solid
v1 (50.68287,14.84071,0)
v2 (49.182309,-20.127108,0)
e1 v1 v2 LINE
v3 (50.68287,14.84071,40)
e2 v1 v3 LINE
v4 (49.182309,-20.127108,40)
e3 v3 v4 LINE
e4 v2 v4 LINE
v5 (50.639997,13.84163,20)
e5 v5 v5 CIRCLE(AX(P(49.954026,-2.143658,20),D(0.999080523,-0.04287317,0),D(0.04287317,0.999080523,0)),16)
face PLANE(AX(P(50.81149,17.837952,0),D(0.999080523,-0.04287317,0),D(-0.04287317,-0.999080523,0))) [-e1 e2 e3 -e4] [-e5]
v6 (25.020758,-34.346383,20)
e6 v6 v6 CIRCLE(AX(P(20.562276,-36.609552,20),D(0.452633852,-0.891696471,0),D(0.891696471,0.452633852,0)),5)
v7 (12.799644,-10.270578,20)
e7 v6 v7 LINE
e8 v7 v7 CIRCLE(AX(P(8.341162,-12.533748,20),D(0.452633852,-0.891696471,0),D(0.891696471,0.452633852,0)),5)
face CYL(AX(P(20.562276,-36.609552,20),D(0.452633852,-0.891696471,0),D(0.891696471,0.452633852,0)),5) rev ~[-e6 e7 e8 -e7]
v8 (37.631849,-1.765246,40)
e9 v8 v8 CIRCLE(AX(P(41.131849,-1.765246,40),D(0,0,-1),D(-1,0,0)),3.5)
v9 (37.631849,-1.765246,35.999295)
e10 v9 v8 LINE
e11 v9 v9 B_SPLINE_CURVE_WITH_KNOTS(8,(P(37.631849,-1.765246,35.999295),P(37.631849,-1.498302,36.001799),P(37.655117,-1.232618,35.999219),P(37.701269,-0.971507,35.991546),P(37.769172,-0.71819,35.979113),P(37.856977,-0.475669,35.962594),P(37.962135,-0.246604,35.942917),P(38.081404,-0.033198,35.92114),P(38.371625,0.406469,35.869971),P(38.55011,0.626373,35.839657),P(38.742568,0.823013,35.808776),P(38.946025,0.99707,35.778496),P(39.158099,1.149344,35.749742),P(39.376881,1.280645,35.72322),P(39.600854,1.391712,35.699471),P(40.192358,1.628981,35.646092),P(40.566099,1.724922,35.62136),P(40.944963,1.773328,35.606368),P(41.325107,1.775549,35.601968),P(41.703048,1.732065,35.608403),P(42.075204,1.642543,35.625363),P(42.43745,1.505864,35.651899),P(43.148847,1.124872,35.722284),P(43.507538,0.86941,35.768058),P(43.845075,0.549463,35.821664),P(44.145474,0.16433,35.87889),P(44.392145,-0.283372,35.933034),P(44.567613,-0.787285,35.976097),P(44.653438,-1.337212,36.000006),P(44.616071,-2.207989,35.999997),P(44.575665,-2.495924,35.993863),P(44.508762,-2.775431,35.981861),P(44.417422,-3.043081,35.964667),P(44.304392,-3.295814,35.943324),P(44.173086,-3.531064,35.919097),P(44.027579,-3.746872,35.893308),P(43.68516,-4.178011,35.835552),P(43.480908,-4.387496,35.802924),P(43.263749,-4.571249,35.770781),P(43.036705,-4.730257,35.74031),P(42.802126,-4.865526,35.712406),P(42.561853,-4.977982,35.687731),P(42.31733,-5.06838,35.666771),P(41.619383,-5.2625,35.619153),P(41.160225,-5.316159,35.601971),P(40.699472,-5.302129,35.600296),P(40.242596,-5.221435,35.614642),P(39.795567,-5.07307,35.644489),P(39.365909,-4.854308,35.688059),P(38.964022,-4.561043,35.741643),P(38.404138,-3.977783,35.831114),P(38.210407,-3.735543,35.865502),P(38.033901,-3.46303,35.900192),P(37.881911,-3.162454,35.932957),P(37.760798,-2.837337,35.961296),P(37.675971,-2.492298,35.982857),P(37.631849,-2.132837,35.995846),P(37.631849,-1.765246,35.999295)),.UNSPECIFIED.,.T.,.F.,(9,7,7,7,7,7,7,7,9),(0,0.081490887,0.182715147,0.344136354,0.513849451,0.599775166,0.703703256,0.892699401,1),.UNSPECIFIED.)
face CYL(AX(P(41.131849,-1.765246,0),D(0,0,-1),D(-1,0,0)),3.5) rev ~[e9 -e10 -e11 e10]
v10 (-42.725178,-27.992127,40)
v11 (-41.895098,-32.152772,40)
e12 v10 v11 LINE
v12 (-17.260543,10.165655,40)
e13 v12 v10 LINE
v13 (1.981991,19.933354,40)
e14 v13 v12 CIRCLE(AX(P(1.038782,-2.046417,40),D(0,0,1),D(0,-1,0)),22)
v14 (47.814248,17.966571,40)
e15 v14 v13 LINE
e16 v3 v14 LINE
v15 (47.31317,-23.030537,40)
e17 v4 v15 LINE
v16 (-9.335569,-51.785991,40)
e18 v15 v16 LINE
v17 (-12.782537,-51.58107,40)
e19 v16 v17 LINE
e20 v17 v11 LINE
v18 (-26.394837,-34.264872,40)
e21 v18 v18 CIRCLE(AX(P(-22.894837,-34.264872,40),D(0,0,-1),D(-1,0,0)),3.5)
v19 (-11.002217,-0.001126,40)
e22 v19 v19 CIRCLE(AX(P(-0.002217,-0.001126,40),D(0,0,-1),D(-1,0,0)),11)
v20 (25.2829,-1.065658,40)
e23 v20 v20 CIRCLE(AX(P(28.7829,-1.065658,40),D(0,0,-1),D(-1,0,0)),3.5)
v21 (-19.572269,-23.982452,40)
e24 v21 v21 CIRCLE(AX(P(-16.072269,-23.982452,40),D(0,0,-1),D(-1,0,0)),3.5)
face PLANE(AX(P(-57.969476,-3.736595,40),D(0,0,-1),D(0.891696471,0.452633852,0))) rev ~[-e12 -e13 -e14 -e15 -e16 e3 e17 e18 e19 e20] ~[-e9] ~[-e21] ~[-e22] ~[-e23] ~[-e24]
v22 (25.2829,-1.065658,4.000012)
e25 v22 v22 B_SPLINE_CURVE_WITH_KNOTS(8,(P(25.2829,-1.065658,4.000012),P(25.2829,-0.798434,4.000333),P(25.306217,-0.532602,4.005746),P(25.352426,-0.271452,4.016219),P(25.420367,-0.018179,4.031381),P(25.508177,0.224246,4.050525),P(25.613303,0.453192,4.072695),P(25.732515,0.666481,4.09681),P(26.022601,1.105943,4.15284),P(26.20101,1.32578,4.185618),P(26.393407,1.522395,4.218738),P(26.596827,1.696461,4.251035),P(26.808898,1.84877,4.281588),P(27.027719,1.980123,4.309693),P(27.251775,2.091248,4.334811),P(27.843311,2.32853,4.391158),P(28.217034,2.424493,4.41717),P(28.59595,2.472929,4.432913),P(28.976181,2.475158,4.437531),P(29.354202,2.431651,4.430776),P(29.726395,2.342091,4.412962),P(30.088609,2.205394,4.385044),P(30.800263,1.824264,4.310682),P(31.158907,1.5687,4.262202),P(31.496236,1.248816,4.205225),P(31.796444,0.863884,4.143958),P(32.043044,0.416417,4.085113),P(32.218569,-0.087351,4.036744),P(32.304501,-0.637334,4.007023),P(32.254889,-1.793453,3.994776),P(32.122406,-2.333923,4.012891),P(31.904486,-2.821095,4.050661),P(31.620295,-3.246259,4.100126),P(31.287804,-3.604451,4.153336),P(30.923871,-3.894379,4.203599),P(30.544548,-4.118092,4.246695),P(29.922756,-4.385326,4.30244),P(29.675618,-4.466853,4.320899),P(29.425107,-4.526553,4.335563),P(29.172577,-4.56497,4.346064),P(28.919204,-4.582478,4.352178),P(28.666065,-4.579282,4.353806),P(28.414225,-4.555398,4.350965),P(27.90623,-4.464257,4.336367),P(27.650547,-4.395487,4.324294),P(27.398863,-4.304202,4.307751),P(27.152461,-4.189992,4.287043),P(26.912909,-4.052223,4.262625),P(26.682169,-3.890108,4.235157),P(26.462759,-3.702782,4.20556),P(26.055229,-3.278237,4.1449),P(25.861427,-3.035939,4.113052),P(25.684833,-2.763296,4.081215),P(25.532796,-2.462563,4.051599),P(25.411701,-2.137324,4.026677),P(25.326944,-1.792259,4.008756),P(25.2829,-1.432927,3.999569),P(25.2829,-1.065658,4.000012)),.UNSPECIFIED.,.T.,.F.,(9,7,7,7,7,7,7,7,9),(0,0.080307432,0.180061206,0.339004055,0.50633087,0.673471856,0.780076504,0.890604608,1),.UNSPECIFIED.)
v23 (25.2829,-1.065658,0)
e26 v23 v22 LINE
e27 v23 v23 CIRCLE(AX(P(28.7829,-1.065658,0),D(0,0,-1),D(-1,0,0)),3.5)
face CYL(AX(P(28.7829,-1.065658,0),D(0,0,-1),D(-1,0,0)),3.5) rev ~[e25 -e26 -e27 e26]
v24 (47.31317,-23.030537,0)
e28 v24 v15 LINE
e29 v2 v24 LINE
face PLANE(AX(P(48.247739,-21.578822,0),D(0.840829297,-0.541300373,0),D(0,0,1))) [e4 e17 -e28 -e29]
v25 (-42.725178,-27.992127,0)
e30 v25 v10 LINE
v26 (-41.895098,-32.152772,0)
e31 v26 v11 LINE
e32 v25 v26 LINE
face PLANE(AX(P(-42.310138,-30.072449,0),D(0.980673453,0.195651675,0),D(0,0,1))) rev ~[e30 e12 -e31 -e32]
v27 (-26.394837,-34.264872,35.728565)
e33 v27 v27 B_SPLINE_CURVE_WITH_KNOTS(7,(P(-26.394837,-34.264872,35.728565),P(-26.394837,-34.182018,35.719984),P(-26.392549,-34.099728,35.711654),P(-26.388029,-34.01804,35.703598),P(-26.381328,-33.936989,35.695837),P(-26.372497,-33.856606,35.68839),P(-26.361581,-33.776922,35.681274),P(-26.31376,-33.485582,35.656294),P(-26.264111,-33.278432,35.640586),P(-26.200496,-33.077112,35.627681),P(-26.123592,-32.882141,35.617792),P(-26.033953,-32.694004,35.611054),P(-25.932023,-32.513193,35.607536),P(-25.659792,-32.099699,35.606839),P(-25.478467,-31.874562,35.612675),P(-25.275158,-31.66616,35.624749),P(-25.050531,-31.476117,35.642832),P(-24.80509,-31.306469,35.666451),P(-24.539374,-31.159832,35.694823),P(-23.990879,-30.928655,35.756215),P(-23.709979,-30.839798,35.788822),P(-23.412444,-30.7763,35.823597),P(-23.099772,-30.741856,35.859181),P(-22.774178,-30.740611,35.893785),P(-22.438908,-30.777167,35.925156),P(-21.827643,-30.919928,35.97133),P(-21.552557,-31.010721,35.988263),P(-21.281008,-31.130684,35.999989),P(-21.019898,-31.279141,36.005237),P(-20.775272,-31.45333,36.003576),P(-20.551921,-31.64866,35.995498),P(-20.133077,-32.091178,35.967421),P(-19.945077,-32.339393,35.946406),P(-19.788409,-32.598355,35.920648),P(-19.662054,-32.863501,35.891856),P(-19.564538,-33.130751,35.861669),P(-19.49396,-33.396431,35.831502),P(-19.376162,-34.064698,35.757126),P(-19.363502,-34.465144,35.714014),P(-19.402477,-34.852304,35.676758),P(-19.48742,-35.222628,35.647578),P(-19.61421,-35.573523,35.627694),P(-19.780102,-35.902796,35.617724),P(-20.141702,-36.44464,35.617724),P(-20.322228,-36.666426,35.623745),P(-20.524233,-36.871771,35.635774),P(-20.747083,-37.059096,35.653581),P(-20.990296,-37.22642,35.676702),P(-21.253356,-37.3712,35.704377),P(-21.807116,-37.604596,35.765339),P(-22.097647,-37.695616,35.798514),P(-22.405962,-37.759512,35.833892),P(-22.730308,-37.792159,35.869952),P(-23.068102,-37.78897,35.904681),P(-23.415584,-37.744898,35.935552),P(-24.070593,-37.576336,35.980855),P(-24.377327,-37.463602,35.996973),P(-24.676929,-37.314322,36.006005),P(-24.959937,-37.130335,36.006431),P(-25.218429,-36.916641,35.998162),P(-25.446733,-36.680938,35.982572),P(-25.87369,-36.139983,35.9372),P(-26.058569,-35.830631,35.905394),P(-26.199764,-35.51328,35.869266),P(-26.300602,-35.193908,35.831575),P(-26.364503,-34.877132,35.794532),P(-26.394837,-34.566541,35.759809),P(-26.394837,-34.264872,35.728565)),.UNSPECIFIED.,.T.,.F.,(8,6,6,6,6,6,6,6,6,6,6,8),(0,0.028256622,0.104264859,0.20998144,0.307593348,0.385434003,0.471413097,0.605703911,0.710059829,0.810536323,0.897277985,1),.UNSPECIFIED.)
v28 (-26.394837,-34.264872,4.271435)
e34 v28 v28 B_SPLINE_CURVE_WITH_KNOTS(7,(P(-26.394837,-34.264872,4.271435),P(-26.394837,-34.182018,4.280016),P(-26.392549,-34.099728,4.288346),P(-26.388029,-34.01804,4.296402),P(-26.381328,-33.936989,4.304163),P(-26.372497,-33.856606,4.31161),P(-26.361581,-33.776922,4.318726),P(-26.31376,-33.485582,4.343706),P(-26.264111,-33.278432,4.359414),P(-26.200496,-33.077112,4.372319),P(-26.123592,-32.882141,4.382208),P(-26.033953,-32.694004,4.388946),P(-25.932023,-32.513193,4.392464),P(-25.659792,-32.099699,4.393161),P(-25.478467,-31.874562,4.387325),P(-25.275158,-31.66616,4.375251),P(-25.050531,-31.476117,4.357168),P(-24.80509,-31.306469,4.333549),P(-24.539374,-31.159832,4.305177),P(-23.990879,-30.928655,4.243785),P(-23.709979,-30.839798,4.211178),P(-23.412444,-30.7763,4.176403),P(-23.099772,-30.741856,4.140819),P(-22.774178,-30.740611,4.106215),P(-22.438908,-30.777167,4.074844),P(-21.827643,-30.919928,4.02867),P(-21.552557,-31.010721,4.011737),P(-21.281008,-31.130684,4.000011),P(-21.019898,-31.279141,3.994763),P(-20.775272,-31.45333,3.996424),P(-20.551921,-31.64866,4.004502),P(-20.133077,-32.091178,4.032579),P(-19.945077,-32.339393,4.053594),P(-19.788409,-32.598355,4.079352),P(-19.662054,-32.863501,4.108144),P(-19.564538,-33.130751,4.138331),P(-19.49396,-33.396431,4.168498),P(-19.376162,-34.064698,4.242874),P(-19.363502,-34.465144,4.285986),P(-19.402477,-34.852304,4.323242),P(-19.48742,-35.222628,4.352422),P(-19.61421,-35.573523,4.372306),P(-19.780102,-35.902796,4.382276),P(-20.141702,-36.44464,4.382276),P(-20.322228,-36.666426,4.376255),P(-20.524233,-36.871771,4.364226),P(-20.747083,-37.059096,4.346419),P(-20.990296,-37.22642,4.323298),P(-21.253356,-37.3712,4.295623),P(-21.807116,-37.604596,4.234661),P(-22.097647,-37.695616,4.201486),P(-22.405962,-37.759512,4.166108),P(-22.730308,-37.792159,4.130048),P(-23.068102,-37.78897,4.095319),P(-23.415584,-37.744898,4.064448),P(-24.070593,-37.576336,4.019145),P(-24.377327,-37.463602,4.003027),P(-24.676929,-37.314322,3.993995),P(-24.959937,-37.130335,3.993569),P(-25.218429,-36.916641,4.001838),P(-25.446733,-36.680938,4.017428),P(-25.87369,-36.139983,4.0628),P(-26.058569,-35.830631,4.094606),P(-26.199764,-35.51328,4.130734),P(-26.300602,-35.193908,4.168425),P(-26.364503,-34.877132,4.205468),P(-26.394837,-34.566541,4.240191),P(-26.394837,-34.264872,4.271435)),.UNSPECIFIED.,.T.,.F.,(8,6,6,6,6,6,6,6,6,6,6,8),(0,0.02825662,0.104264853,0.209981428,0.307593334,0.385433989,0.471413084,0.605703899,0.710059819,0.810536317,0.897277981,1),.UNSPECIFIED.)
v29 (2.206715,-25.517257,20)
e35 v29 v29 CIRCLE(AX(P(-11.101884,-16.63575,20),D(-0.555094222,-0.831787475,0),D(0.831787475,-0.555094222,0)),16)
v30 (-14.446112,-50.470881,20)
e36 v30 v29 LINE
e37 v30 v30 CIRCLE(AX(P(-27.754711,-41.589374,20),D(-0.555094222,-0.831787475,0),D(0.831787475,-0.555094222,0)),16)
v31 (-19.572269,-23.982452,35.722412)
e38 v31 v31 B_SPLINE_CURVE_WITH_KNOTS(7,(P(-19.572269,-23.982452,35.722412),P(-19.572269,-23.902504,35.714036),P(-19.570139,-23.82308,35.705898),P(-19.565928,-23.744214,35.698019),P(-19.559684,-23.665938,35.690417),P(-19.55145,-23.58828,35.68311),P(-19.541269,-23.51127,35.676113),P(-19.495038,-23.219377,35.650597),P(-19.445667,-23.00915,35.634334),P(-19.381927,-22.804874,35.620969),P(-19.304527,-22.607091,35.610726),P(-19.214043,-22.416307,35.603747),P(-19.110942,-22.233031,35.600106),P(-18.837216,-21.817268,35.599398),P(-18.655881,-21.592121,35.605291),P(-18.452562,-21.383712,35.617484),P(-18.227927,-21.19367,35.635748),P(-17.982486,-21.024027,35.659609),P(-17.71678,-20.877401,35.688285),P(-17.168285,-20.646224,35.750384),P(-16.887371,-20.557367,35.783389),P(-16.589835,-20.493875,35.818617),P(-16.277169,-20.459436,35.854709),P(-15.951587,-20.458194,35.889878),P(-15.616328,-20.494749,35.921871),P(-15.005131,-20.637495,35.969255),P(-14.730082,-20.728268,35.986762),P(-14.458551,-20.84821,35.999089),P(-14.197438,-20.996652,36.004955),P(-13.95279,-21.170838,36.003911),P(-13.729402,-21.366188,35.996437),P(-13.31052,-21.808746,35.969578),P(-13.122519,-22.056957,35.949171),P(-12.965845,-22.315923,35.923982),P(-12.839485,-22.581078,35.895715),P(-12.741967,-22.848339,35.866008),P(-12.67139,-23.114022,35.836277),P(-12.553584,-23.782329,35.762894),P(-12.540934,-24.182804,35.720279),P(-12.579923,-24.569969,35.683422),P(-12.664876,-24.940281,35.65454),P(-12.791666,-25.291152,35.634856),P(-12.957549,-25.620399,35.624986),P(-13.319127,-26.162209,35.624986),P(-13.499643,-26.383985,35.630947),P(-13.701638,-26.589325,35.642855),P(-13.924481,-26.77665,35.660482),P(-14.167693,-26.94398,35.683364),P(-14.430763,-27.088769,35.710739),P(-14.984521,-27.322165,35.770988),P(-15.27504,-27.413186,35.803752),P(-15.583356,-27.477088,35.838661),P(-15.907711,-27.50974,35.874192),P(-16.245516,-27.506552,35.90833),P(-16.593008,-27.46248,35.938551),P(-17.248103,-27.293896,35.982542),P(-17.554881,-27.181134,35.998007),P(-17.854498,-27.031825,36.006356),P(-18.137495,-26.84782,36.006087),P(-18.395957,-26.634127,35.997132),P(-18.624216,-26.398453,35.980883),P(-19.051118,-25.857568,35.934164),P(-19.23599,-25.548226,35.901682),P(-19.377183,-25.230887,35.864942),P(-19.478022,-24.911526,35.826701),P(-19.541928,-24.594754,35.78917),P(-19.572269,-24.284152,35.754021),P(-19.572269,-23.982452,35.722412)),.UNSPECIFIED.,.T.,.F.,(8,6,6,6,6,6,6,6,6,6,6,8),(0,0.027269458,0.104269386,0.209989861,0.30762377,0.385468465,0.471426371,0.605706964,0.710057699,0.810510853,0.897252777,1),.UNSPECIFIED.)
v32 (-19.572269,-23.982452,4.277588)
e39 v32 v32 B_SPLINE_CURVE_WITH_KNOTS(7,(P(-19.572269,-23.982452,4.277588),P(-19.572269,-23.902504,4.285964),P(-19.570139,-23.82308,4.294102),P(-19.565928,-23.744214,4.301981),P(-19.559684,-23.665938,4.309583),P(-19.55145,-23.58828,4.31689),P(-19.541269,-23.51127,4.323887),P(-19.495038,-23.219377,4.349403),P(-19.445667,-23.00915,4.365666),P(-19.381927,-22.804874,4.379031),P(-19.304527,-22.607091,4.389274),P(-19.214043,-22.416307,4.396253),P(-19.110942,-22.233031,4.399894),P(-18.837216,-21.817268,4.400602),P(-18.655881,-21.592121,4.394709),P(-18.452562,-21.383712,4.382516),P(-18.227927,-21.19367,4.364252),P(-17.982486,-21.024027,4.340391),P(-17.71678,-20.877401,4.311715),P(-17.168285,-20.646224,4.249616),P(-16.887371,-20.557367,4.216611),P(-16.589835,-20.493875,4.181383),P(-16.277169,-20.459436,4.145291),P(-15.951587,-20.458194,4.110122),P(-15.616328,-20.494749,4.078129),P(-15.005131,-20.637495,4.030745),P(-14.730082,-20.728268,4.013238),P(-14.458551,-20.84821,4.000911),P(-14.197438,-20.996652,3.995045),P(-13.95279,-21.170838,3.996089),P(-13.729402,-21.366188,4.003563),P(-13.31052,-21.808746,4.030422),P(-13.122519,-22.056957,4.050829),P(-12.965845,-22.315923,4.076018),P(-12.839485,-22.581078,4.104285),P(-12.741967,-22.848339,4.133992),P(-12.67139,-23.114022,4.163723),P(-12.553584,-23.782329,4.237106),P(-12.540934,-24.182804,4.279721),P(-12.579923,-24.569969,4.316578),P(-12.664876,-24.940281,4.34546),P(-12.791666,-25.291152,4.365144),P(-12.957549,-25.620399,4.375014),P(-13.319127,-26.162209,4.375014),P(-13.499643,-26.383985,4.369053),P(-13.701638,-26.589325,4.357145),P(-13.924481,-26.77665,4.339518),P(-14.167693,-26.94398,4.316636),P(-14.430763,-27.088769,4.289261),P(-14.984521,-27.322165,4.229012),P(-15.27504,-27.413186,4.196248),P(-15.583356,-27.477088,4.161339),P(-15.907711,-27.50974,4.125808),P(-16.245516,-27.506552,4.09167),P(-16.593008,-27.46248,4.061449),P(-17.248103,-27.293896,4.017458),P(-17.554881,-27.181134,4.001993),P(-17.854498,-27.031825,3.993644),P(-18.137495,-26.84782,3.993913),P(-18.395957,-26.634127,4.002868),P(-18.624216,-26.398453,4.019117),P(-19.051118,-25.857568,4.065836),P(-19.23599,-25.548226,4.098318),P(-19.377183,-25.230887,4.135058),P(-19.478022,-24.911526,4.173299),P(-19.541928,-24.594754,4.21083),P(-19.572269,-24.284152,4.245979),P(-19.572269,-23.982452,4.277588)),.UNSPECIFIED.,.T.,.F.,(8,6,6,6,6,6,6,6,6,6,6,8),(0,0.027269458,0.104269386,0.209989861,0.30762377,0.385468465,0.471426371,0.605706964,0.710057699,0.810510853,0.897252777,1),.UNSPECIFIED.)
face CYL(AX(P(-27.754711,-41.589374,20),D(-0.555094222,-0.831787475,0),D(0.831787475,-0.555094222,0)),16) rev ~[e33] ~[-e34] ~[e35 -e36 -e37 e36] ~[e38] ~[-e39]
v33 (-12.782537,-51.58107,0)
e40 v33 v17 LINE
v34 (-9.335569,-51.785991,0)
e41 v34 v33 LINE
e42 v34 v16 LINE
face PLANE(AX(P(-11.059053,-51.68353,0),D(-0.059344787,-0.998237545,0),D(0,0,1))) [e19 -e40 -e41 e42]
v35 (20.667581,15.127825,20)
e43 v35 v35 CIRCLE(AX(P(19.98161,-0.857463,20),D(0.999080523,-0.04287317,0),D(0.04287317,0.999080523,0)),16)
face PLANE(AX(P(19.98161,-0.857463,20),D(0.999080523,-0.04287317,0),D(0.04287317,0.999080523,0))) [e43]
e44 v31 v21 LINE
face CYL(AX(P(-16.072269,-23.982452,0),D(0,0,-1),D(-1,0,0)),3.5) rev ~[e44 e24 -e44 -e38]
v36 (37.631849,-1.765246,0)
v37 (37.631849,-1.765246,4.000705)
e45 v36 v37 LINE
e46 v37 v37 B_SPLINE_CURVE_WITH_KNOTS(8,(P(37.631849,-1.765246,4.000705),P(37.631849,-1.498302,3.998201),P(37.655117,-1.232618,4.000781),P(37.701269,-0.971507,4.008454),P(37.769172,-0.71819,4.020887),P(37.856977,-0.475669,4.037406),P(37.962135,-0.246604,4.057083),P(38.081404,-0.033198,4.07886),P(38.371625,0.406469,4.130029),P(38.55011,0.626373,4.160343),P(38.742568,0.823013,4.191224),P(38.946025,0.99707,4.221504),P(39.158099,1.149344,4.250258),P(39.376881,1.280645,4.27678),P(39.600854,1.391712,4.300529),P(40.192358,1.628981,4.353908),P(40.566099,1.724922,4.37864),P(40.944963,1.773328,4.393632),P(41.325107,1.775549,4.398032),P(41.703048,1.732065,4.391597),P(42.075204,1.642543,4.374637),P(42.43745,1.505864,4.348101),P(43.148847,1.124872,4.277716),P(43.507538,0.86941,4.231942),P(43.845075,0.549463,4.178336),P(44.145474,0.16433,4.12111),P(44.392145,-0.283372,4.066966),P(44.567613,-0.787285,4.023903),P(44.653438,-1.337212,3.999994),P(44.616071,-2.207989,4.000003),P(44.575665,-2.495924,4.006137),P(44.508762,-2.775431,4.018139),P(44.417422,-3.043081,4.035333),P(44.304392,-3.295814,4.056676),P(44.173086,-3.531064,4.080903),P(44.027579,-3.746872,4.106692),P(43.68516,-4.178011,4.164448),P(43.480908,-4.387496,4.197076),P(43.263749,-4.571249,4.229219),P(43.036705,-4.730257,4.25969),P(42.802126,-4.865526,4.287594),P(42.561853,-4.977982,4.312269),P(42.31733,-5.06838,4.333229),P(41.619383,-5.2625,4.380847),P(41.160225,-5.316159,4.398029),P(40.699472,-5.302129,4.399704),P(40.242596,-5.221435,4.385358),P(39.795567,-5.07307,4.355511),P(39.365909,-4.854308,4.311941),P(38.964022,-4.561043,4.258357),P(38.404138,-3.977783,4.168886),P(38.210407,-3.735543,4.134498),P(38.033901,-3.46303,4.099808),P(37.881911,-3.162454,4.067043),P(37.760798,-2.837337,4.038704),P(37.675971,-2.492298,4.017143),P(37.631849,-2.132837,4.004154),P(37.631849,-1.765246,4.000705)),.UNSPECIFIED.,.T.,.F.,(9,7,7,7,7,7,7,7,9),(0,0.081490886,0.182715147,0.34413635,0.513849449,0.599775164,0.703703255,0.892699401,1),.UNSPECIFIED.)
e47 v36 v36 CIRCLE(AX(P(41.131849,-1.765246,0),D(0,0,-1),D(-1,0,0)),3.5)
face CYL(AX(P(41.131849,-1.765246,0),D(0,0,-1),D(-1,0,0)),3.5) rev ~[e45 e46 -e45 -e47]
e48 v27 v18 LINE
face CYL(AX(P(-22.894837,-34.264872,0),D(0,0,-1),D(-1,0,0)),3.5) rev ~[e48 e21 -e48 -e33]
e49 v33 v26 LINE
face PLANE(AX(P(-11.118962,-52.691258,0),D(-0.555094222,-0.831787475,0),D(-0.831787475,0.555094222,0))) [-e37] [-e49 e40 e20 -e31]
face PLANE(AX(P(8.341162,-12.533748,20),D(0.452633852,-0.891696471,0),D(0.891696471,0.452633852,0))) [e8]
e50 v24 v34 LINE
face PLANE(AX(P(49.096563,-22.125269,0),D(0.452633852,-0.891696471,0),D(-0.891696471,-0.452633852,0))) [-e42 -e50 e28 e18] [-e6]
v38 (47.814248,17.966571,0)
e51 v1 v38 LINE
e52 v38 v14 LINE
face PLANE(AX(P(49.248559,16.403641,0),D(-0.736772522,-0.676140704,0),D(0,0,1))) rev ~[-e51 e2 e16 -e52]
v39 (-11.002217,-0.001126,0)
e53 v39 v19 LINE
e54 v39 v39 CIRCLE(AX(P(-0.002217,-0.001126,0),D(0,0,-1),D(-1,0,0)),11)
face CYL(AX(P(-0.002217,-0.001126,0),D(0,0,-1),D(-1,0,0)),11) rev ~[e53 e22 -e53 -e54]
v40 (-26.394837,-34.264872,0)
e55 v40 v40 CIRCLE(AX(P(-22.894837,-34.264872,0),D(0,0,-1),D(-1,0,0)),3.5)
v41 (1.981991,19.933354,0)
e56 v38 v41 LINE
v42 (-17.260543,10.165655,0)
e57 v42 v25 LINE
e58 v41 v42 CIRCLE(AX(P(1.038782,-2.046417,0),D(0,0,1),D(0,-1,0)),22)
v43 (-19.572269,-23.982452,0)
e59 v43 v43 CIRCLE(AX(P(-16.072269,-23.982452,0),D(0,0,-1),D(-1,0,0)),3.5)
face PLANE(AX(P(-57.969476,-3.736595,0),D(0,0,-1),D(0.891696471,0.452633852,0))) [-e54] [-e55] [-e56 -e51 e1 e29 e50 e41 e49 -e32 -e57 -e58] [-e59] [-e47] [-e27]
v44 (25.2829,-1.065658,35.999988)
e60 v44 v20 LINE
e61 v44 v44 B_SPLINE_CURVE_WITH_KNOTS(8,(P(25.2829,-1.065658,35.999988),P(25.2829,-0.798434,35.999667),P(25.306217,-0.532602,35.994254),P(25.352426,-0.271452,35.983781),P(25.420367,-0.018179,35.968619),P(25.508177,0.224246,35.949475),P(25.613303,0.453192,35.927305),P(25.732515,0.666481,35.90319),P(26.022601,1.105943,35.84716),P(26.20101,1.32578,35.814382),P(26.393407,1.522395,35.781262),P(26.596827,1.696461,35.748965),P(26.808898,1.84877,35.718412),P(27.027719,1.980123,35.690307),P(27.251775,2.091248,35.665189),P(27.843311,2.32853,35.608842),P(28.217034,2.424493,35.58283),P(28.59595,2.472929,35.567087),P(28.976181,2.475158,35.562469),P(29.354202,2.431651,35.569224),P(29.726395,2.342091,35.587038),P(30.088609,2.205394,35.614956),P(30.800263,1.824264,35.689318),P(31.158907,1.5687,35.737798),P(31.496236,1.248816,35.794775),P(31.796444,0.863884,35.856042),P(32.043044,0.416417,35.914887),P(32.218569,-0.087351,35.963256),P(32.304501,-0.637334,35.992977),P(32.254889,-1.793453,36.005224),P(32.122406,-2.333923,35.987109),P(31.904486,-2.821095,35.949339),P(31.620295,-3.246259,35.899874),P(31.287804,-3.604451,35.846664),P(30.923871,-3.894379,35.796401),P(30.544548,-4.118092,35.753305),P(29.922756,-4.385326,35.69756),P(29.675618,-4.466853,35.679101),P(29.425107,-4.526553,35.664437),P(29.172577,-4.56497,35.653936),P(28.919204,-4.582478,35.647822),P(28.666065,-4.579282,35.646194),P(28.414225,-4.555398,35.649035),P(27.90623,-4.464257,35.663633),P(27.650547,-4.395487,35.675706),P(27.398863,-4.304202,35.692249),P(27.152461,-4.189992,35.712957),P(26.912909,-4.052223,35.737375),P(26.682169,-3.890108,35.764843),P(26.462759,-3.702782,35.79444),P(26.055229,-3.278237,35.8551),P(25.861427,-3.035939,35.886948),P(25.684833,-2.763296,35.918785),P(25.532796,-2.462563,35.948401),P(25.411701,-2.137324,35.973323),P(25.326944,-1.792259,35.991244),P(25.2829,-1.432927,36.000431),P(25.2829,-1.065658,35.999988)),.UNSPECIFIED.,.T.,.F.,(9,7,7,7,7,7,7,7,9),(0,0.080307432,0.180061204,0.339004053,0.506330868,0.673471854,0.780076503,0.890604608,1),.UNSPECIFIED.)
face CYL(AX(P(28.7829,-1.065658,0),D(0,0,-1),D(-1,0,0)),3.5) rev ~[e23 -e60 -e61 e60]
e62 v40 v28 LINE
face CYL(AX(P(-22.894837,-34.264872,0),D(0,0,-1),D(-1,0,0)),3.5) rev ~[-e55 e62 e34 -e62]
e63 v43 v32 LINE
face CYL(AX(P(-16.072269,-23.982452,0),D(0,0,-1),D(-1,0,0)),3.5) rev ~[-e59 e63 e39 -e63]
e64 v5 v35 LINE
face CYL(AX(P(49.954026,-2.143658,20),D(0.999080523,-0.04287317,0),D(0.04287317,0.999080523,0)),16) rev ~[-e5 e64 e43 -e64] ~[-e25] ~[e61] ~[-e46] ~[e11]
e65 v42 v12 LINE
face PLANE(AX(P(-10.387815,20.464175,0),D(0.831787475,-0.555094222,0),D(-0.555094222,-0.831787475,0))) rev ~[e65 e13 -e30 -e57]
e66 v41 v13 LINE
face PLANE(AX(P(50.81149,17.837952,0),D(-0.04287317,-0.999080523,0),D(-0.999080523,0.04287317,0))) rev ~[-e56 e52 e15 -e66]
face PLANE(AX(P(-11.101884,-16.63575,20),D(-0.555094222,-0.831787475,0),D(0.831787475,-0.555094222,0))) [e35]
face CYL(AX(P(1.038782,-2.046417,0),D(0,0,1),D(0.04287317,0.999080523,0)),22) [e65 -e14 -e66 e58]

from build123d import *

# Parameters (mm, degrees)
BOSS_EXTRUDE6_DEPTH = 40
SKETCH9_R           = 16
CUT_EXTRUDE3_DEPTH  = 30
SKETCH10_R          = 16
CUT_EXTRUDE4_DEPTH  = 30
CUT_EXTRUDE5_REACH  = 89.959
SKETCH11_R          = 3.5
SKETCH12_R          = 11
CUT_EXTRUDE6_DEPTH  = 40
SKETCH14_W          = 106.764973624
SKETCH14_H          = 40
BOSS_EXTRUDE7_DEPTH = 5
CUT_EXTRUDE8_DEPTH  = 40
FILLET1_R           = 22
CHAMFER5_SIZE       = 2
CHAMFER6_SIZE       = 3
SKETCH16_R          = 5
CUT_EXTRUDE9_DEPTH  = 27


with BuildPart() as part:
    # Sketch8 → Boss-Extrude6 (new body)
    with BuildSketch(Plane.XY):
        Polygon((-57.969476198, -3.736595203), (37.23247397, 44.588846099), (50.811489539, 17.83795198), (-44.390460629, -30.487489322), align=None)
        Polygon((50.811489539, 17.83795198), (49.096562756, -22.125268937), (-11.118961612, -52.691258219), (-44.390460629, -30.487489322), align=None)
    extrude(amount=BOSS_EXTRUDE6_DEPTH)

    # Sketch9 → Cut-Extrude3 (cut)
    with BuildSketch(Plane(origin=(-27.75471112, -41.58937377, 0), x_dir=(-0.8317874754097543, 0.5550942224086534, 0), z_dir=(-0.5550942224086534, -0.8317874754097543, 0))):
        with Locations(Location((0, -20, 0), (0, 0, 180))):
            Circle(SKETCH9_R)
    extrude(amount=-CUT_EXTRUDE3_DEPTH, mode=Mode.SUBTRACT)

    # Sketch10 → Cut-Extrude4 (cut)
    with BuildSketch(Plane(origin=(49.954026147, -2.143658479, 0), x_dir=(0, 0, -1), z_dir=(0.9990805229464255, -0.04287316957138965, 0))):
        with Locations(Location((-20, 0, 0), (0, 0, 90))):
            Circle(SKETCH10_R)
    extrude(amount=-CUT_EXTRUDE4_DEPTH, mode=Mode.SUBTRACT)

    # Cut-Extrude5: up to this face of the body (flat: up to its plane)
    cut_extrude5_end = Plane(part.part.faces().sort_by_distance((3.278005206, -6.45772661, 40))[0])
    # Sketch11 → Cut-Extrude5 (cut, up to the picked face)
    with BuildSketch(Plane(origin=(0, 0, 0), x_dir=(-1, 0, 0), z_dir=(0, 0, -1)), mode=Mode.PRIVATE) as cut_extrude5_sk1:
        with Locations((16.072269088, -23.982451877)):
            Circle(SKETCH11_R)
    cut_extrude5_tool1 = split(extrude(cut_extrude5_sk1.sketch, amount=-CUT_EXTRUDE5_REACH, mode=Mode.PRIVATE), bisect_by=cut_extrude5_end, keep=Keep.BOTH, mode=Mode.PRIVATE)
    # Sketch11 → Cut-Extrude5 (cut, up to the picked face)
    with BuildSketch(Plane(origin=(0, 0, 0), x_dir=(-1, 0, 0), z_dir=(0, 0, -1)), mode=Mode.PRIVATE) as cut_extrude5_sk2:
        with Locations((22.894837472, -34.264871857)):
            Circle(SKETCH11_R)
    cut_extrude5_tool2 = split(extrude(cut_extrude5_sk2.sketch, amount=-CUT_EXTRUDE5_REACH, mode=Mode.PRIVATE), bisect_by=cut_extrude5_end, keep=Keep.BOTH, mode=Mode.PRIVATE)
    # Sketch11 → Cut-Extrude5 (cut, up to the picked face)
    with BuildSketch(Plane(origin=(0, 0, 0), x_dir=(-1, 0, 0), z_dir=(0, 0, -1)), mode=Mode.PRIVATE) as cut_extrude5_sk3:
        with Locations((-28.78289974, -1.065658383)):
            Circle(SKETCH11_R)
    cut_extrude5_tool3 = split(extrude(cut_extrude5_sk3.sketch, amount=-CUT_EXTRUDE5_REACH, mode=Mode.PRIVATE), bisect_by=cut_extrude5_end, keep=Keep.BOTH, mode=Mode.PRIVATE)
    # Sketch11 → Cut-Extrude5 (cut, up to the picked face)
    with BuildSketch(Plane(origin=(0, 0, 0), x_dir=(-1, 0, 0), z_dir=(0, 0, -1)), mode=Mode.PRIVATE) as cut_extrude5_sk4:
        with Locations((-41.131848905, -1.765246078)):
            Circle(SKETCH11_R)
    cut_extrude5_tool4 = split(extrude(cut_extrude5_sk4.sketch, amount=-CUT_EXTRUDE5_REACH, mode=Mode.PRIVATE), bisect_by=cut_extrude5_end, keep=Keep.BOTH, mode=Mode.PRIVATE)
    add(cut_extrude5_tool1.solids().sort_by(Axis((-16.072269, -23.982452, 0), (0, 0, 1)))[0], mode=Mode.SUBTRACT)
    add(cut_extrude5_tool2.solids().sort_by(Axis((-22.894837, -34.264872, 0), (0, 0, 1)))[0], mode=Mode.SUBTRACT)
    add(cut_extrude5_tool3.solids().sort_by(Axis((28.7829, -1.065658, 0), (0, 0, 1)))[0], mode=Mode.SUBTRACT)
    add(cut_extrude5_tool4.solids().sort_by(Axis((41.131849, -1.765246, 0), (0, 0, 1)))[0], mode=Mode.SUBTRACT)

    # Sketch12 → Cut-Extrude6 (cut)
    with BuildSketch(Plane(origin=(0, 0, 0), x_dir=(-1, 0, 0), z_dir=(0, 0, -1))):
        with Locations((0.002217481, -0.001125615)):
            Circle(SKETCH12_R)
    extrude(amount=-CUT_EXTRUDE6_DEPTH, mode=Mode.SUBTRACT)

    # Sketch14 → Boss-Extrude7 (add)
    with BuildSketch(Plane(origin=(-10.368501114, 20.426125448, 0), x_dir=(0.8916964706359383, 0.45263385230825515, 0), z_dir=(-0.45263385230825526, 0.8916964706359384, 0))):
        with Locations((0, -20)):
            Rectangle(SKETCH14_W, SKETCH14_H)
    extrude(amount=BOSS_EXTRUDE7_DEPTH)

    # Sketch15 → Cut-Extrude8 (cut)
    with BuildSketch(Plane(origin=(0, 0, 0), x_dir=(-1, 0, 0), z_dir=(0, 0, -1))):
        Polygon((20.486288281, 20.897526908), (10.387815393, 20.46417491), (44.390460629, -30.487489322), (60.232645459, 0.72188715), align=None)
        Polygon((-34.969304708, 49.047328453), (-50.811489539, 17.83795198), (10.387815393, 20.46417491), (4.777052471, 28.871688695), align=None)
        Polygon((4.777052471, 28.871688695), (10.387815393, 20.46417491), (20.486288281, 20.897526908), align=None)
    extrude(amount=-CUT_EXTRUDE8_DEPTH, mode=Mode.SUBTRACT)

    # Fillet1
    fillet1_edges = [part.edges().sort_by_distance(p)[0] for p in [
        (-10.387815393, 20.46417491, 20),
    ]]
    fillet(fillet1_edges, radius=FILLET1_R)

    # Chamfer5
    chamfer5_edges = [part.edges().sort_by_distance(p)[0] for p in [
        (49.096562756, -22.125268937, 20),
        (-11.118961612, -52.691258219, 20),
    ]]
    chamfer(chamfer5_edges, length=CHAMFER5_SIZE)

    # Chamfer6
    chamfer6_edges = [part.edges().sort_by_distance(p)[0] for p in [
        (50.811489539, 17.83795198, 20),
        (-44.390460629, -30.487489322, 20),
    ]]
    chamfer(chamfer6_edges, length=CHAMFER6_SIZE)

    # Sketch16 → Cut-Extrude9 (cut)
    with BuildSketch(Plane(origin=(18.988800572, -37.408263578, 0), x_dir=(-0.8916964706359382, -0.4526338523082556, 0), z_dir=(0.4526338523082556, -0.8916964706359382, 0))):
        with Locations(Location((-1.764586017, -20, 0), (0, 0, 180))):
            Circle(SKETCH16_R)
    extrude(amount=-CUT_EXTRUDE9_DEPTH, mode=Mode.SUBTRACT)


solid = part.part
